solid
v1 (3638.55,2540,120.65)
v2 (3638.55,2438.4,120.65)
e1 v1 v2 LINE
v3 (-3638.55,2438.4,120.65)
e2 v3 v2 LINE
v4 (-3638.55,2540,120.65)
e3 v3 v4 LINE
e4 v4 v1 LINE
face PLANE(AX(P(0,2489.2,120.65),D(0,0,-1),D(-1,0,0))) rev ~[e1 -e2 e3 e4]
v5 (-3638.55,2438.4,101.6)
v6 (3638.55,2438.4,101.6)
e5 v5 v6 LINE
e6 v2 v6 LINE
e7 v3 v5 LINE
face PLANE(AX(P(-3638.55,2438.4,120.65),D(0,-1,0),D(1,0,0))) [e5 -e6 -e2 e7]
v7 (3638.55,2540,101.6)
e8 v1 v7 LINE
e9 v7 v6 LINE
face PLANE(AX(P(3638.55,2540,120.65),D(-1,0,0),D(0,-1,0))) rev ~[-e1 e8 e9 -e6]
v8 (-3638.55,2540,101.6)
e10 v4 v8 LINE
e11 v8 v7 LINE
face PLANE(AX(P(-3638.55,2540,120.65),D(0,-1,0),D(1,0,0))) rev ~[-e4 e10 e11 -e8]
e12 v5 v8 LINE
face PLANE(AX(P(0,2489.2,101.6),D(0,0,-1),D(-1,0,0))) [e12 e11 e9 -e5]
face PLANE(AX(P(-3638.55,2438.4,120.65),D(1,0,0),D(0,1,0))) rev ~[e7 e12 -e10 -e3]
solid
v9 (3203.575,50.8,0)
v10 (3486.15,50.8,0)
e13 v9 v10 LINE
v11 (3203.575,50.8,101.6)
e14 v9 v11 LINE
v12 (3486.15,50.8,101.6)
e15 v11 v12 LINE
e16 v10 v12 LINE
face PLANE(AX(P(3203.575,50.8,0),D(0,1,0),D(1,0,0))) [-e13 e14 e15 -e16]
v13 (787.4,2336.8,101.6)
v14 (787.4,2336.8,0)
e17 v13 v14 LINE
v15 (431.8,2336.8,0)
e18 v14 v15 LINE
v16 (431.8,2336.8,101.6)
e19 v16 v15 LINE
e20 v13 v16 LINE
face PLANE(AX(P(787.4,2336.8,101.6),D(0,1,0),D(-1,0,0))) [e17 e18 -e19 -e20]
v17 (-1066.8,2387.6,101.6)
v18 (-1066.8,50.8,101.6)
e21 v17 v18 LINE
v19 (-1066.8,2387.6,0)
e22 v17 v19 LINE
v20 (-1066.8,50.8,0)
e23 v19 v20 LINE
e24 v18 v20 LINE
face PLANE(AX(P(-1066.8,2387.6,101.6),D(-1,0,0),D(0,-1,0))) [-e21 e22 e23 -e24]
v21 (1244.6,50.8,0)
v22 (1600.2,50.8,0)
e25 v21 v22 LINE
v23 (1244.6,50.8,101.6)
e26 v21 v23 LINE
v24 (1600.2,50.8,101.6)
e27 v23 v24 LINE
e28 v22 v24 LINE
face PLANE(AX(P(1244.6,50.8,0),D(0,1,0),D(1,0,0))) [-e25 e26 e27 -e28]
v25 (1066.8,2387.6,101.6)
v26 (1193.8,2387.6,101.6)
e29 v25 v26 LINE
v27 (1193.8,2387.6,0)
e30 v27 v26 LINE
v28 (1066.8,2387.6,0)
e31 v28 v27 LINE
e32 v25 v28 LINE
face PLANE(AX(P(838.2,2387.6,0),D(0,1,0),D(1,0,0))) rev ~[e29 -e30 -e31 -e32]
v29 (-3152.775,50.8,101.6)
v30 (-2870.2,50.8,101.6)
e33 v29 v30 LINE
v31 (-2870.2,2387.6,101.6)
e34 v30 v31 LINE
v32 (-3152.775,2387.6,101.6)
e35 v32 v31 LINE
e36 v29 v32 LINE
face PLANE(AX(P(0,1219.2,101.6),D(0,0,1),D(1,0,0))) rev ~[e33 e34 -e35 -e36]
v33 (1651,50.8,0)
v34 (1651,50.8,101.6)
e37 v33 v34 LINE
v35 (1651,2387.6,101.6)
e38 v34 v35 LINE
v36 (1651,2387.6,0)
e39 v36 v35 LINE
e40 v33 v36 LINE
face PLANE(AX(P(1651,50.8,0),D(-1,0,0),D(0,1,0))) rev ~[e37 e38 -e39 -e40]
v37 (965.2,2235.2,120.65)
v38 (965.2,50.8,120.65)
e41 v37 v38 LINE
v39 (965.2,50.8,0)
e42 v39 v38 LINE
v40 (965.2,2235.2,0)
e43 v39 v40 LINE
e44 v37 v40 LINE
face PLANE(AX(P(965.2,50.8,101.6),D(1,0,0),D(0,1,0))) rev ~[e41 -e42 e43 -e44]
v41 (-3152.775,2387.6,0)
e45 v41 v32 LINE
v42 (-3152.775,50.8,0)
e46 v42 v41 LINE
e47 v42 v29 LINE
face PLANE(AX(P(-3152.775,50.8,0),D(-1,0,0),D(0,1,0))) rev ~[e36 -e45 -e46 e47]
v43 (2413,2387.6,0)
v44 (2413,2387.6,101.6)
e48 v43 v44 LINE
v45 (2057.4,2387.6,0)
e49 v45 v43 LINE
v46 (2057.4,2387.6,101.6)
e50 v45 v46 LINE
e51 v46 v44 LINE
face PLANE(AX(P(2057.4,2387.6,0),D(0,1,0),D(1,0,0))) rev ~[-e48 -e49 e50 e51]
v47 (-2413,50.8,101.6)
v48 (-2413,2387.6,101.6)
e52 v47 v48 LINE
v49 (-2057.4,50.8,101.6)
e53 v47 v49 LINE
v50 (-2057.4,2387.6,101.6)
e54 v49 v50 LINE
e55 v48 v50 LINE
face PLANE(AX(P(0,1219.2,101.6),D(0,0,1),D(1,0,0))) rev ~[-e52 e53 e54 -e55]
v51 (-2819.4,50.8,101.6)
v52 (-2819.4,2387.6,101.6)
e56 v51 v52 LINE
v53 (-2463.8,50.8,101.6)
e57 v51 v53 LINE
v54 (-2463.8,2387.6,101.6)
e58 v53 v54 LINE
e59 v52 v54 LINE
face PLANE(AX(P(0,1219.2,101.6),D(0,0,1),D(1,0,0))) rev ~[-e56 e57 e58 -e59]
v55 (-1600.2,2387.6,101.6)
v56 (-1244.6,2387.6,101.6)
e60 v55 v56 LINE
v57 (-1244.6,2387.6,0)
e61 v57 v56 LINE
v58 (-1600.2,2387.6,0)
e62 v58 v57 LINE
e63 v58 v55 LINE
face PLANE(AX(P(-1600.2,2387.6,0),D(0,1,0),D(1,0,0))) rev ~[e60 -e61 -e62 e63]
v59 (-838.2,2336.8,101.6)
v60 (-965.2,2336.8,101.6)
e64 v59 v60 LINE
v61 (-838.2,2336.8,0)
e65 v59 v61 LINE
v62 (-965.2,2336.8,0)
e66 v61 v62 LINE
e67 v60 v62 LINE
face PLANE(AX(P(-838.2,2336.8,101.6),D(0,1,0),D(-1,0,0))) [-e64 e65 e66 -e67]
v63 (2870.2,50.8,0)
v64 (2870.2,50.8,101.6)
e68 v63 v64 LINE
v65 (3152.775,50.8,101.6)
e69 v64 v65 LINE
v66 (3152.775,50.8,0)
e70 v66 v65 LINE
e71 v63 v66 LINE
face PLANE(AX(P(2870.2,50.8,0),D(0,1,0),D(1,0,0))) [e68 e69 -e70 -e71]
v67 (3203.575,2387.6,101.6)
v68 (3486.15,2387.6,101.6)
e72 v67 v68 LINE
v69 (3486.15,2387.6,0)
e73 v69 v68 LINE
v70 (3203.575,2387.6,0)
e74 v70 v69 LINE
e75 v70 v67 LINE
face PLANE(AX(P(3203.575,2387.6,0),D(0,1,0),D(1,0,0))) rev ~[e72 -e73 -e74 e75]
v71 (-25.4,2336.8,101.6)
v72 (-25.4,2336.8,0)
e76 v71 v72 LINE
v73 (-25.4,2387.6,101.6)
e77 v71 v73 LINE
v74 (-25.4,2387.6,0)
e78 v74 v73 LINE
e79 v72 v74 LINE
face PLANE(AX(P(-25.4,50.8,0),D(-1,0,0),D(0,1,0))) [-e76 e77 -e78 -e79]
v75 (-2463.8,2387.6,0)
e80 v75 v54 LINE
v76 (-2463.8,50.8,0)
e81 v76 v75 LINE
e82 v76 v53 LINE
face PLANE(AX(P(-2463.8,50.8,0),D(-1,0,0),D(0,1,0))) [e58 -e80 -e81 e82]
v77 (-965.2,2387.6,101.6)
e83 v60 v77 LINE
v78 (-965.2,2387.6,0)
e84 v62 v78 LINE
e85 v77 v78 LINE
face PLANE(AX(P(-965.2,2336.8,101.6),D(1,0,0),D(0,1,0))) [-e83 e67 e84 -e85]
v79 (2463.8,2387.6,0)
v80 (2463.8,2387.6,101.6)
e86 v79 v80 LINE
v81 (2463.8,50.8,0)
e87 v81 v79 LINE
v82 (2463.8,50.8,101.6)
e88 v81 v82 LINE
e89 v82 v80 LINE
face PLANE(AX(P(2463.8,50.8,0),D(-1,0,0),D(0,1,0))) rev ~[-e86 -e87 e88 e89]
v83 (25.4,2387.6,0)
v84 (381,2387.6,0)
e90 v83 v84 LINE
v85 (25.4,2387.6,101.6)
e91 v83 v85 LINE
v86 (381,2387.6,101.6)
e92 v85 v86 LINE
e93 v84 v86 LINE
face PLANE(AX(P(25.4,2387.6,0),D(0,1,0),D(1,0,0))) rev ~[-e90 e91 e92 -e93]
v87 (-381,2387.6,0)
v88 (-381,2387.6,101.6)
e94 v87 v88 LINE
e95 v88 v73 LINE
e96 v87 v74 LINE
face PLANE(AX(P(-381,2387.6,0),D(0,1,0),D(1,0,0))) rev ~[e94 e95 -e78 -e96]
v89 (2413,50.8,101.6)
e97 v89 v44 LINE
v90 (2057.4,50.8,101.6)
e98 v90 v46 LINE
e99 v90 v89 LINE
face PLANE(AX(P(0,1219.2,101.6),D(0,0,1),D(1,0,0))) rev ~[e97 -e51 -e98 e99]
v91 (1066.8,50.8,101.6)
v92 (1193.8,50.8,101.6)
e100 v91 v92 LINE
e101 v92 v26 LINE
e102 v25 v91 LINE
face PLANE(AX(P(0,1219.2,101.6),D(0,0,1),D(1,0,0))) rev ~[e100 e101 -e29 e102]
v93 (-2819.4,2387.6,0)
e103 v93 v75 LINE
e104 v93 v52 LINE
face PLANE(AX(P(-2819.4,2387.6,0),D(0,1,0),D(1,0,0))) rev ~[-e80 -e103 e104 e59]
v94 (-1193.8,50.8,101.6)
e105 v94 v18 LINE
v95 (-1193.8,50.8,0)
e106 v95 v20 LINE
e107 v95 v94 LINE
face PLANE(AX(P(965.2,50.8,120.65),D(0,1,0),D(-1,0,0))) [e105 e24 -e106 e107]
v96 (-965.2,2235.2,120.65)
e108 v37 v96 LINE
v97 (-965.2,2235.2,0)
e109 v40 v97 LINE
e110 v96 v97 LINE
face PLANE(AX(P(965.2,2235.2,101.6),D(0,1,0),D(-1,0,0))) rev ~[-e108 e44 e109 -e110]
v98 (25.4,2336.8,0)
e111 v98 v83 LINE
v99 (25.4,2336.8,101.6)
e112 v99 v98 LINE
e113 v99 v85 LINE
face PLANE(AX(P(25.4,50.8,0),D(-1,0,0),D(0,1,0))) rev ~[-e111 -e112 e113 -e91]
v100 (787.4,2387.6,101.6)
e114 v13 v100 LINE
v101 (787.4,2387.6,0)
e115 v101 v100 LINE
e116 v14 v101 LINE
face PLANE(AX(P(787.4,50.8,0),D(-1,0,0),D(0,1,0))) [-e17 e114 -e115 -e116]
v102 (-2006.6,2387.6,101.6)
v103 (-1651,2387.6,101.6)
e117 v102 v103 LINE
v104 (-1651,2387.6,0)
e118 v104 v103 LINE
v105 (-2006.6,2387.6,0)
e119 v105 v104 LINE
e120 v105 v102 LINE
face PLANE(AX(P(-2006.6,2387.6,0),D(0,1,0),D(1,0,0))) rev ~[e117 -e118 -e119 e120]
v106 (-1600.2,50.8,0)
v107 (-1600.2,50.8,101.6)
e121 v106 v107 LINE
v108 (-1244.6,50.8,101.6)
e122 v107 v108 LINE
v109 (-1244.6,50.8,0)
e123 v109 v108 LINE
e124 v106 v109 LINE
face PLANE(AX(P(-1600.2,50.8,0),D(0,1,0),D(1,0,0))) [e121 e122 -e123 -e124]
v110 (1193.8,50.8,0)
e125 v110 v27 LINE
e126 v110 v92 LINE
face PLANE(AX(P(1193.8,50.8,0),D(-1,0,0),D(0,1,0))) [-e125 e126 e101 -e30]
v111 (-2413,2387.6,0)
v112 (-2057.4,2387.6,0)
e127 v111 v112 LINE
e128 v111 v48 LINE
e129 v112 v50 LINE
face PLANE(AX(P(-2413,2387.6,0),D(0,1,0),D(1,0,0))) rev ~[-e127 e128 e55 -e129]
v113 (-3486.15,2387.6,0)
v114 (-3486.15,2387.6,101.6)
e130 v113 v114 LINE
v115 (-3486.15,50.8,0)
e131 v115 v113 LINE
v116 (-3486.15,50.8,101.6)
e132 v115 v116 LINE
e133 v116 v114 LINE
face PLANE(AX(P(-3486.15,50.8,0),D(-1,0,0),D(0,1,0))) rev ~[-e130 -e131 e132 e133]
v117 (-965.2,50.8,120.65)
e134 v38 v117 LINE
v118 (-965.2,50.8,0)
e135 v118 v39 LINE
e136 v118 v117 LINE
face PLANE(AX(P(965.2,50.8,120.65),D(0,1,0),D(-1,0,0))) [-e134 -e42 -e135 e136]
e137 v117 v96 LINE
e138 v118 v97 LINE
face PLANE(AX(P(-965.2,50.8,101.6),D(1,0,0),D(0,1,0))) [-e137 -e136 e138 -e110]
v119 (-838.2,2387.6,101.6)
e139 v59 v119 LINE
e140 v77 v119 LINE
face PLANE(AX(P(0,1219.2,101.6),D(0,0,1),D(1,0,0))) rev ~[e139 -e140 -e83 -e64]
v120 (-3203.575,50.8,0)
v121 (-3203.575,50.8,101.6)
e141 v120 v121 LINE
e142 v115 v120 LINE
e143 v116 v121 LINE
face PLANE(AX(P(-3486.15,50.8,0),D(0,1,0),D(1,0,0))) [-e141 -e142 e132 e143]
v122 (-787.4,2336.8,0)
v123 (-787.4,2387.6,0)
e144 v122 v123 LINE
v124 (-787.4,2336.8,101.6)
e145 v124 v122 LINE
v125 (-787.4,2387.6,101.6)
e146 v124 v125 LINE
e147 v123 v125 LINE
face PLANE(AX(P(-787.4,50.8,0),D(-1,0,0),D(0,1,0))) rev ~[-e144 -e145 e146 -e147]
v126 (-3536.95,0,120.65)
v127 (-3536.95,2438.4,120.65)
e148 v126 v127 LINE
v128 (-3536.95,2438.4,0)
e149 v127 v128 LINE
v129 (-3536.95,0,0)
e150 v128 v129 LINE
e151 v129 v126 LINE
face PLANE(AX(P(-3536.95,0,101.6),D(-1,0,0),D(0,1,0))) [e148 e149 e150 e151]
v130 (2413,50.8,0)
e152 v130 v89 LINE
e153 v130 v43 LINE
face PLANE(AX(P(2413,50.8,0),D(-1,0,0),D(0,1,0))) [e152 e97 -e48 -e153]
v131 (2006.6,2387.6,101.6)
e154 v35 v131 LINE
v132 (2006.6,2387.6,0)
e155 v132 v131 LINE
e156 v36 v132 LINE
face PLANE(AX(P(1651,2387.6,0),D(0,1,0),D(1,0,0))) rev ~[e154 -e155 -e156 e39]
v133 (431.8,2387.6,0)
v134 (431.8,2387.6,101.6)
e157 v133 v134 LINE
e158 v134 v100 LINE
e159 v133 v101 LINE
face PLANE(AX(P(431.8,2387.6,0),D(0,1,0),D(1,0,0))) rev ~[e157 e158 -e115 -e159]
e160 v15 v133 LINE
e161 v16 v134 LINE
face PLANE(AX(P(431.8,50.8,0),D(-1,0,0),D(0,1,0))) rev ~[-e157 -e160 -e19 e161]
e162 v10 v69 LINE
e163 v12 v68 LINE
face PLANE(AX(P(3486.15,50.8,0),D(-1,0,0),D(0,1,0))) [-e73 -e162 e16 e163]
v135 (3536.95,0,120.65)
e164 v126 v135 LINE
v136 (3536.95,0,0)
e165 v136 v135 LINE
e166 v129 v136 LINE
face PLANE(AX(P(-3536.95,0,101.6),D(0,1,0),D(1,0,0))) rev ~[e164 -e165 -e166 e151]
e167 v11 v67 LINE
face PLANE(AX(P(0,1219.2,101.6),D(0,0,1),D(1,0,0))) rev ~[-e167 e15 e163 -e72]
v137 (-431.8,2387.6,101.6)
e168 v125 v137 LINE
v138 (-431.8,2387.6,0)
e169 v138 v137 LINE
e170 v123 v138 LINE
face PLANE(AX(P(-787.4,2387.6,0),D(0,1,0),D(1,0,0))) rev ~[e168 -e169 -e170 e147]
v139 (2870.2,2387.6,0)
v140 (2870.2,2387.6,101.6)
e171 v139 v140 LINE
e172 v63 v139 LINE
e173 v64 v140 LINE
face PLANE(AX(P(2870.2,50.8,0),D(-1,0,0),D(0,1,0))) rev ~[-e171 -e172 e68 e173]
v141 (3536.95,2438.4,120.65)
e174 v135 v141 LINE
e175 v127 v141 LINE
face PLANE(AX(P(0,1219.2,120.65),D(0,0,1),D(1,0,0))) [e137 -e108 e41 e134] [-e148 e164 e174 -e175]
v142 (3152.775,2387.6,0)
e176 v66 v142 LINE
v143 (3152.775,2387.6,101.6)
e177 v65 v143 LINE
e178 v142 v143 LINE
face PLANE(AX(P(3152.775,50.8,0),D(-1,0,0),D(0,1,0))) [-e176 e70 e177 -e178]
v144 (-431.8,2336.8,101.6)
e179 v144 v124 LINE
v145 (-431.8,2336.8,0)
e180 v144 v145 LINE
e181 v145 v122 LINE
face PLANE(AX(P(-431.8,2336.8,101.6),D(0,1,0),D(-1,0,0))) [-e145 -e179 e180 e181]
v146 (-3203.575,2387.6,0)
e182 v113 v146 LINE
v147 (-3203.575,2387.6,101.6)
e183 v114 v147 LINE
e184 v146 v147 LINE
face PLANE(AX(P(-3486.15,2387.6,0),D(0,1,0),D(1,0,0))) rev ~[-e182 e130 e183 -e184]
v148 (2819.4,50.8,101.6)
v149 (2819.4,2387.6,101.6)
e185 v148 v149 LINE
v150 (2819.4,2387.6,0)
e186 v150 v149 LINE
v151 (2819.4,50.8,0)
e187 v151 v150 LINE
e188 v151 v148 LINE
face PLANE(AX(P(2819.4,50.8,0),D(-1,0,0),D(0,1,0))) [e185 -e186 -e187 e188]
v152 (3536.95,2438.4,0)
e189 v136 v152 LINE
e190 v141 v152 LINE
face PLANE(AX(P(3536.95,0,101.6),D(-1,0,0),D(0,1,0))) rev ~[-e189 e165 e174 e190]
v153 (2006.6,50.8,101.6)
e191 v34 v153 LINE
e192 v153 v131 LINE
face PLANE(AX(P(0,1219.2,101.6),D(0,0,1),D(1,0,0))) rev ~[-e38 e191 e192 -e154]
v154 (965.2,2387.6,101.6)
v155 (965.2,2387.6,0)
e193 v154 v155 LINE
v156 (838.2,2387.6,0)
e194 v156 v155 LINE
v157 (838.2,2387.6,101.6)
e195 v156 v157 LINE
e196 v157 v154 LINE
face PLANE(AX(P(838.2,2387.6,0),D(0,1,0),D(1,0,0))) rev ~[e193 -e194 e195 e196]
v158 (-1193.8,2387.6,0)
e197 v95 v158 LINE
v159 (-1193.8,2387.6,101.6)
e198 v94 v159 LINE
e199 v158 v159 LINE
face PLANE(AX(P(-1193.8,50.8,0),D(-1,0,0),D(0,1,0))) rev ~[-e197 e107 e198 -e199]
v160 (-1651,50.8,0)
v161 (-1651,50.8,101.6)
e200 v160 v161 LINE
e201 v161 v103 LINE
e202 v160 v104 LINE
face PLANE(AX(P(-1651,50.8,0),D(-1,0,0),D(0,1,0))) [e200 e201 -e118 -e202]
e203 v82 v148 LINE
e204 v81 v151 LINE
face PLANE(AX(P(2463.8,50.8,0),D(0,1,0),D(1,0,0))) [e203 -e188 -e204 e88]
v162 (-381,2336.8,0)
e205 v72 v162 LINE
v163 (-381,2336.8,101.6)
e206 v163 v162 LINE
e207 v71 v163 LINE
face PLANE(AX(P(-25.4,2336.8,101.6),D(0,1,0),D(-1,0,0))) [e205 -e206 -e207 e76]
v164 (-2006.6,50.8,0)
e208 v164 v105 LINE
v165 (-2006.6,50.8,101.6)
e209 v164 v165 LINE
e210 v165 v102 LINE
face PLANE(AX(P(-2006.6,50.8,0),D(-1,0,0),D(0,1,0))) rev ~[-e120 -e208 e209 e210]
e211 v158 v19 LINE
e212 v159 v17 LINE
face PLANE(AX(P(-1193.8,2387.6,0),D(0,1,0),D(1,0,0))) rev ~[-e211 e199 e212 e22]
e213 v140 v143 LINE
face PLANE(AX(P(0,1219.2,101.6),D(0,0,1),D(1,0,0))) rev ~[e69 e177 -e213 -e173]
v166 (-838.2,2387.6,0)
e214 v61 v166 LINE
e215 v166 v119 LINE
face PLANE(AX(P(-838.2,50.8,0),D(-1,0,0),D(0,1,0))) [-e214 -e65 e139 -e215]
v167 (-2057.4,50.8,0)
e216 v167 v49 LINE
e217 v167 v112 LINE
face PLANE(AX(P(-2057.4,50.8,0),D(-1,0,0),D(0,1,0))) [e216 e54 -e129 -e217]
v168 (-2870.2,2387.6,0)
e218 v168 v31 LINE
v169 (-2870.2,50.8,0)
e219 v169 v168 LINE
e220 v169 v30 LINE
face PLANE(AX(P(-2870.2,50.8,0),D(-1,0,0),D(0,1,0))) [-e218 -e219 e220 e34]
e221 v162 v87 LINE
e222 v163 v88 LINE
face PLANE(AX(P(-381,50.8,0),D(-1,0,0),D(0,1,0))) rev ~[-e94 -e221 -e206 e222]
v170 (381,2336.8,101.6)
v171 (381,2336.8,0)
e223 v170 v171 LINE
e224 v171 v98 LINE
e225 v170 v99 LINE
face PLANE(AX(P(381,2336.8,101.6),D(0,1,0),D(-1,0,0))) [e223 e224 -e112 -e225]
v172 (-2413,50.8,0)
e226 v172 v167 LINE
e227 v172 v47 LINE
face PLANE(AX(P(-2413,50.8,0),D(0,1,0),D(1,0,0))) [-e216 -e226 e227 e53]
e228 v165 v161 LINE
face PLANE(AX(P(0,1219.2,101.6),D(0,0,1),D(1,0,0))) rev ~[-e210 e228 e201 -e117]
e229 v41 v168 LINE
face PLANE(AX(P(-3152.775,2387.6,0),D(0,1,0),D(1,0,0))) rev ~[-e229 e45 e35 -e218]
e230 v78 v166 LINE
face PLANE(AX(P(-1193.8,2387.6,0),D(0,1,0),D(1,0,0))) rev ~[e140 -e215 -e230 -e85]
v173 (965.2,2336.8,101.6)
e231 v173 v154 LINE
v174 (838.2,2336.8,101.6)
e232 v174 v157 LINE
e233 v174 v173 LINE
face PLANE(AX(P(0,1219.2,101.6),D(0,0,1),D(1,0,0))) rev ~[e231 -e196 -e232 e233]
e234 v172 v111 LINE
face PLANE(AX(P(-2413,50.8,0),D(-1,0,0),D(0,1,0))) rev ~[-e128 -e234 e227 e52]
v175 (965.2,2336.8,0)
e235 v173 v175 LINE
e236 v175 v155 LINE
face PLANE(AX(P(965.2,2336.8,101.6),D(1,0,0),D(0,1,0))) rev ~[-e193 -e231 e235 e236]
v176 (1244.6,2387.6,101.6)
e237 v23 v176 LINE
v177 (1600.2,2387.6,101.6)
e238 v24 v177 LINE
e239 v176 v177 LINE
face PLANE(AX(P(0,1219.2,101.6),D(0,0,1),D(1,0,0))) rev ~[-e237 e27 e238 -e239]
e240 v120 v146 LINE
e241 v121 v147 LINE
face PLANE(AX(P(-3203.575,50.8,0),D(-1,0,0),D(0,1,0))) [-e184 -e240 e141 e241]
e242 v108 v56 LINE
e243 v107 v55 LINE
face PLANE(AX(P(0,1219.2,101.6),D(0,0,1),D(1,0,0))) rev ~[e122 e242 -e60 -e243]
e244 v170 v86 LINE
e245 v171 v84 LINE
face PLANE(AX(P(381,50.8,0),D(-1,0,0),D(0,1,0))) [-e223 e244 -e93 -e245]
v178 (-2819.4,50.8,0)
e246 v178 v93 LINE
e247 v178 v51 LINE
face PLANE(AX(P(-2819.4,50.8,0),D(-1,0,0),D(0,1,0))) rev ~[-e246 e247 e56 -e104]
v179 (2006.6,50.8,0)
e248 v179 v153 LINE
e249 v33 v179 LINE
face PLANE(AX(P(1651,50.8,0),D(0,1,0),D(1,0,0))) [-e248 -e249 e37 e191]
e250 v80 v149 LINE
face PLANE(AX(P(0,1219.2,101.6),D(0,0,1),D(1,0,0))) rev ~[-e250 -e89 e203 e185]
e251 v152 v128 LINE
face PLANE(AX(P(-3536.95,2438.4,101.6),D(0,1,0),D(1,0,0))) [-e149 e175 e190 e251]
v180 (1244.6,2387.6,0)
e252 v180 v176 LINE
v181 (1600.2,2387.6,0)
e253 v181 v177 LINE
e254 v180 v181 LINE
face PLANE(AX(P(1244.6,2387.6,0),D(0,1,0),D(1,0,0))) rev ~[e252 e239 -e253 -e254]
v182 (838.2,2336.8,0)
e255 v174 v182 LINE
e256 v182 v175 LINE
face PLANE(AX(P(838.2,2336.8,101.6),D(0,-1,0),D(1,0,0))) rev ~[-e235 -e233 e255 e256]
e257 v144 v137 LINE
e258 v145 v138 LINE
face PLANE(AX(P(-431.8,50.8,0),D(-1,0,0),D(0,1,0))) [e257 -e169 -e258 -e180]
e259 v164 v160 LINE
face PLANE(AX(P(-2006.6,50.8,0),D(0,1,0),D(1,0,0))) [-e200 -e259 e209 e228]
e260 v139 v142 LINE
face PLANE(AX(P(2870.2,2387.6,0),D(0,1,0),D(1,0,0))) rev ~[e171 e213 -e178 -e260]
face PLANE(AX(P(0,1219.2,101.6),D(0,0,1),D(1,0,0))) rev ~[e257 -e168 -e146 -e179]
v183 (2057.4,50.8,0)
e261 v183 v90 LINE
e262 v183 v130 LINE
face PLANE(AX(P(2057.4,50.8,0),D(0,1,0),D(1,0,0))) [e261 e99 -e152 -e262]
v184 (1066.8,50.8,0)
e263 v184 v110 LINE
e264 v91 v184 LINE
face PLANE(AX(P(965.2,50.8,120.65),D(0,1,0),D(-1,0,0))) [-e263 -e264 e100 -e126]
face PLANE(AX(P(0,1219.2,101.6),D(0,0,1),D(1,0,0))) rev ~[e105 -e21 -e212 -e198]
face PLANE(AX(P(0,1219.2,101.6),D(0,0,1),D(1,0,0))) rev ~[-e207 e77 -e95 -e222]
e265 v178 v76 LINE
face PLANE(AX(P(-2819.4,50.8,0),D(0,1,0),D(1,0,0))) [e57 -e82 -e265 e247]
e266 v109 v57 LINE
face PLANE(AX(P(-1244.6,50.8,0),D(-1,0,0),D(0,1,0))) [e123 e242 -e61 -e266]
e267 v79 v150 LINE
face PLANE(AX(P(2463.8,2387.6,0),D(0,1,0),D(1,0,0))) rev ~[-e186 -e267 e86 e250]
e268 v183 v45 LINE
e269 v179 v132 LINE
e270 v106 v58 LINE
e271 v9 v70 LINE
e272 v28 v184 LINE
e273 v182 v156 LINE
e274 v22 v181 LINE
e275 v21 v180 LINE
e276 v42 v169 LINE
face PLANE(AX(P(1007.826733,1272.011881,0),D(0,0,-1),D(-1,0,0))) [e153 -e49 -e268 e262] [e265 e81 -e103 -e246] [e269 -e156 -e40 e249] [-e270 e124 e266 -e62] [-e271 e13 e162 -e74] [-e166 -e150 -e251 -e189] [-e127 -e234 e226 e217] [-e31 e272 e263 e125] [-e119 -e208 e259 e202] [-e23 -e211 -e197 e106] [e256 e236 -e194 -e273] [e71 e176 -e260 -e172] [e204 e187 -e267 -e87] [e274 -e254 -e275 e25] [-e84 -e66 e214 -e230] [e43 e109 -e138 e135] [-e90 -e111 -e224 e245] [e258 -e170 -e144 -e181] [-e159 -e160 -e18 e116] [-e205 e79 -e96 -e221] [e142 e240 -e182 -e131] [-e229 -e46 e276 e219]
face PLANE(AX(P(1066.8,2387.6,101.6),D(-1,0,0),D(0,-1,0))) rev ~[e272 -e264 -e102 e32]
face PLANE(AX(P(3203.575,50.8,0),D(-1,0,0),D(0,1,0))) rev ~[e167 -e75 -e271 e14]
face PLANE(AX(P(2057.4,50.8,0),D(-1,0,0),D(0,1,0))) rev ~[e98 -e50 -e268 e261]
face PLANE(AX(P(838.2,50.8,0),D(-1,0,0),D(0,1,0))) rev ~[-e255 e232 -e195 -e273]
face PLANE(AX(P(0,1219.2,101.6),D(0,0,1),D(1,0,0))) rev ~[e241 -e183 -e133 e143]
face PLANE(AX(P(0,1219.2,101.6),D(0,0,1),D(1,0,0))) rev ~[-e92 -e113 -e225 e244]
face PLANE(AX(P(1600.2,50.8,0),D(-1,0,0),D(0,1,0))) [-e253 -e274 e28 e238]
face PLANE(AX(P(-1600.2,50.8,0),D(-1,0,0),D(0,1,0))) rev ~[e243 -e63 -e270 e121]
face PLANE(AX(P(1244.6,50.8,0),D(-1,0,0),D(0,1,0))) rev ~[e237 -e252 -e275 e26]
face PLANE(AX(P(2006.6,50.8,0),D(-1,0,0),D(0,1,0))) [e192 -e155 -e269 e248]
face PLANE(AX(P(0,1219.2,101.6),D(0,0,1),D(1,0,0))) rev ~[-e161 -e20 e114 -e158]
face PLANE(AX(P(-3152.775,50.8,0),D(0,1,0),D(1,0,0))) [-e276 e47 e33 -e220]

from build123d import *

# Parameters (mm, degrees)
SKETCH1_W           = 355.6
SKETCH1_H           = 2336.8
SKETCH1_W_2         = 282.575
BOSS_EXTRUDE1_DEPTH = 101.6
SKETCH2_W           = 7073.9
SKETCH2_H           = 2438.4
BOSS_EXTRUDE2_DEPTH = 19.05
CUT_EXTRUDE1_DEPTH  = 4298.71640351
SKETCH4_W           = 355.6
SKETCH4_H           = 101.6
BOSS_EXTRUDE3_DEPTH = 101.6
BOSS_EXTRUDE5_DEPTH = 19.05


with BuildPart() as part:
    # Sketch1 → Boss-Extrude1 (new body)
    with BuildSketch(Plane.XY):
        Polygon((0, 0), (3536.95, 0), (3536.95, 2438.4), (-3536.95, 2438.4), (-3536.95, 0), align=None)
        with Locations((203.2, 1219.2)):
            Rectangle(SKETCH1_W, SKETCH1_H, mode=Mode.SUBTRACT)
        with Locations((-203.2, 1219.2)):
            Rectangle(SKETCH1_W, SKETCH1_H, mode=Mode.SUBTRACT)
        with Locations((609.6, 1219.2)):
            Rectangle(SKETCH1_W, SKETCH1_H, mode=Mode.SUBTRACT)
        with Locations((1016, 1219.2)):
            Rectangle(SKETCH1_W, SKETCH1_H, mode=Mode.SUBTRACT)
        with Locations((-3344.8625, 1219.2)):
            Rectangle(SKETCH1_W_2, SKETCH1_H, mode=Mode.SUBTRACT)
        with Locations((3344.8625, 1219.2)):
            Rectangle(SKETCH1_W_2, SKETCH1_H, mode=Mode.SUBTRACT)
        with Locations((1422.4, 1219.2)):
            Rectangle(SKETCH1_W, SKETCH1_H, mode=Mode.SUBTRACT)
        with Locations((1828.8, 1219.2)):
            Rectangle(SKETCH1_W, SKETCH1_H, mode=Mode.SUBTRACT)
        with Locations((2235.2, 1219.2)):
            Rectangle(SKETCH1_W, SKETCH1_H, mode=Mode.SUBTRACT)
        with Locations((2641.6, 1219.2)):
            Rectangle(SKETCH1_W, SKETCH1_H, mode=Mode.SUBTRACT)
        with Locations((3011.4875, 1219.2)):
            Rectangle(SKETCH1_W_2, SKETCH1_H, mode=Mode.SUBTRACT)
        with Locations((-609.6, 1219.2)):
            Rectangle(SKETCH1_W, SKETCH1_H, mode=Mode.SUBTRACT)
        with Locations((-1016, 1219.2)):
            Rectangle(SKETCH1_W, SKETCH1_H, mode=Mode.SUBTRACT)
        with Locations((-1422.4, 1219.2)):
            Rectangle(SKETCH1_W, SKETCH1_H, mode=Mode.SUBTRACT)
        with Locations((-1828.8, 1219.2)):
            Rectangle(SKETCH1_W, SKETCH1_H, mode=Mode.SUBTRACT)
        with Locations((-2235.2, 1219.2)):
            Rectangle(SKETCH1_W, SKETCH1_H, mode=Mode.SUBTRACT)
        with Locations((-2641.6, 1219.2)):
            Rectangle(SKETCH1_W, SKETCH1_H, mode=Mode.SUBTRACT)
        with Locations((-3011.4875, 1219.2)):
            Rectangle(SKETCH1_W_2, SKETCH1_H, mode=Mode.SUBTRACT)
    extrude(amount=BOSS_EXTRUDE1_DEPTH)

    # Sketch2 → Boss-Extrude2 (add)
    with BuildSketch(Plane.XY.offset(101.6)):
        with Locations((0, 1219.2)):
            Rectangle(SKETCH2_W, SKETCH2_H)
    extrude(amount=BOSS_EXTRUDE2_DEPTH)

    # Sketch3 → Cut-Extrude1 (cut, through all)
    with BuildSketch(Plane.XY.offset(120.65)):
        Polygon((0, 2235.2), (965.2, 2235.2), (965.2, 50.8), (-965.2, 50.8), (-965.2, 2235.2), align=None)
    extrude(amount=-CUT_EXTRUDE1_DEPTH, mode=Mode.SUBTRACT)

    # Sketch4 → Boss-Extrude3 (add)
    with BuildSketch(Plane(origin=(0, 0, 101.6), x_dir=(-1, 0, 0), z_dir=(0, 0, -1))):
        Polygon((-965.2, 2336.8), (-965.2, 2387.6), (-1066.8, 2387.6), (-1066.8, 50.8), (-965.2, 50.8), (-965.2, 2235.2), (-838.2, 2235.2), (-838.2, 2336.8), align=None)
        Polygon((965.2, 2336.8), (965.2, 2387.6), (1066.8, 2387.6), (1066.8, 50.8), (965.2, 50.8), (965.2, 2235.2), (838.2, 2235.2), (838.2, 2336.8), align=None)
        with Locations((-609.6, 2286)):
            Rectangle(SKETCH4_W, SKETCH4_H)
        with Locations((-203.2, 2286)):
            Rectangle(SKETCH4_W, SKETCH4_H)
        with Locations((203.2, 2286)):
            Rectangle(SKETCH4_W, SKETCH4_H)
        with Locations((609.6, 2286)):
            Rectangle(SKETCH4_W, SKETCH4_H)
    extrude(amount=BOSS_EXTRUDE3_DEPTH)


with BuildPart() as body_2:
    # Sketch5 → Boss-Extrude5 (new body)
    with BuildSketch(Plane.XY.offset(120.65)):
        Polygon((-3536.95, 2438.4), (-3638.55, 2438.4), (-3638.55, 2540), (3638.55, 2540), (3638.55, 2438.4), (3536.95, 2438.4), align=None)
    extrude(amount=-BOSS_EXTRUDE5_DEPTH)


solid = Compound([part.part, body_2.part])
